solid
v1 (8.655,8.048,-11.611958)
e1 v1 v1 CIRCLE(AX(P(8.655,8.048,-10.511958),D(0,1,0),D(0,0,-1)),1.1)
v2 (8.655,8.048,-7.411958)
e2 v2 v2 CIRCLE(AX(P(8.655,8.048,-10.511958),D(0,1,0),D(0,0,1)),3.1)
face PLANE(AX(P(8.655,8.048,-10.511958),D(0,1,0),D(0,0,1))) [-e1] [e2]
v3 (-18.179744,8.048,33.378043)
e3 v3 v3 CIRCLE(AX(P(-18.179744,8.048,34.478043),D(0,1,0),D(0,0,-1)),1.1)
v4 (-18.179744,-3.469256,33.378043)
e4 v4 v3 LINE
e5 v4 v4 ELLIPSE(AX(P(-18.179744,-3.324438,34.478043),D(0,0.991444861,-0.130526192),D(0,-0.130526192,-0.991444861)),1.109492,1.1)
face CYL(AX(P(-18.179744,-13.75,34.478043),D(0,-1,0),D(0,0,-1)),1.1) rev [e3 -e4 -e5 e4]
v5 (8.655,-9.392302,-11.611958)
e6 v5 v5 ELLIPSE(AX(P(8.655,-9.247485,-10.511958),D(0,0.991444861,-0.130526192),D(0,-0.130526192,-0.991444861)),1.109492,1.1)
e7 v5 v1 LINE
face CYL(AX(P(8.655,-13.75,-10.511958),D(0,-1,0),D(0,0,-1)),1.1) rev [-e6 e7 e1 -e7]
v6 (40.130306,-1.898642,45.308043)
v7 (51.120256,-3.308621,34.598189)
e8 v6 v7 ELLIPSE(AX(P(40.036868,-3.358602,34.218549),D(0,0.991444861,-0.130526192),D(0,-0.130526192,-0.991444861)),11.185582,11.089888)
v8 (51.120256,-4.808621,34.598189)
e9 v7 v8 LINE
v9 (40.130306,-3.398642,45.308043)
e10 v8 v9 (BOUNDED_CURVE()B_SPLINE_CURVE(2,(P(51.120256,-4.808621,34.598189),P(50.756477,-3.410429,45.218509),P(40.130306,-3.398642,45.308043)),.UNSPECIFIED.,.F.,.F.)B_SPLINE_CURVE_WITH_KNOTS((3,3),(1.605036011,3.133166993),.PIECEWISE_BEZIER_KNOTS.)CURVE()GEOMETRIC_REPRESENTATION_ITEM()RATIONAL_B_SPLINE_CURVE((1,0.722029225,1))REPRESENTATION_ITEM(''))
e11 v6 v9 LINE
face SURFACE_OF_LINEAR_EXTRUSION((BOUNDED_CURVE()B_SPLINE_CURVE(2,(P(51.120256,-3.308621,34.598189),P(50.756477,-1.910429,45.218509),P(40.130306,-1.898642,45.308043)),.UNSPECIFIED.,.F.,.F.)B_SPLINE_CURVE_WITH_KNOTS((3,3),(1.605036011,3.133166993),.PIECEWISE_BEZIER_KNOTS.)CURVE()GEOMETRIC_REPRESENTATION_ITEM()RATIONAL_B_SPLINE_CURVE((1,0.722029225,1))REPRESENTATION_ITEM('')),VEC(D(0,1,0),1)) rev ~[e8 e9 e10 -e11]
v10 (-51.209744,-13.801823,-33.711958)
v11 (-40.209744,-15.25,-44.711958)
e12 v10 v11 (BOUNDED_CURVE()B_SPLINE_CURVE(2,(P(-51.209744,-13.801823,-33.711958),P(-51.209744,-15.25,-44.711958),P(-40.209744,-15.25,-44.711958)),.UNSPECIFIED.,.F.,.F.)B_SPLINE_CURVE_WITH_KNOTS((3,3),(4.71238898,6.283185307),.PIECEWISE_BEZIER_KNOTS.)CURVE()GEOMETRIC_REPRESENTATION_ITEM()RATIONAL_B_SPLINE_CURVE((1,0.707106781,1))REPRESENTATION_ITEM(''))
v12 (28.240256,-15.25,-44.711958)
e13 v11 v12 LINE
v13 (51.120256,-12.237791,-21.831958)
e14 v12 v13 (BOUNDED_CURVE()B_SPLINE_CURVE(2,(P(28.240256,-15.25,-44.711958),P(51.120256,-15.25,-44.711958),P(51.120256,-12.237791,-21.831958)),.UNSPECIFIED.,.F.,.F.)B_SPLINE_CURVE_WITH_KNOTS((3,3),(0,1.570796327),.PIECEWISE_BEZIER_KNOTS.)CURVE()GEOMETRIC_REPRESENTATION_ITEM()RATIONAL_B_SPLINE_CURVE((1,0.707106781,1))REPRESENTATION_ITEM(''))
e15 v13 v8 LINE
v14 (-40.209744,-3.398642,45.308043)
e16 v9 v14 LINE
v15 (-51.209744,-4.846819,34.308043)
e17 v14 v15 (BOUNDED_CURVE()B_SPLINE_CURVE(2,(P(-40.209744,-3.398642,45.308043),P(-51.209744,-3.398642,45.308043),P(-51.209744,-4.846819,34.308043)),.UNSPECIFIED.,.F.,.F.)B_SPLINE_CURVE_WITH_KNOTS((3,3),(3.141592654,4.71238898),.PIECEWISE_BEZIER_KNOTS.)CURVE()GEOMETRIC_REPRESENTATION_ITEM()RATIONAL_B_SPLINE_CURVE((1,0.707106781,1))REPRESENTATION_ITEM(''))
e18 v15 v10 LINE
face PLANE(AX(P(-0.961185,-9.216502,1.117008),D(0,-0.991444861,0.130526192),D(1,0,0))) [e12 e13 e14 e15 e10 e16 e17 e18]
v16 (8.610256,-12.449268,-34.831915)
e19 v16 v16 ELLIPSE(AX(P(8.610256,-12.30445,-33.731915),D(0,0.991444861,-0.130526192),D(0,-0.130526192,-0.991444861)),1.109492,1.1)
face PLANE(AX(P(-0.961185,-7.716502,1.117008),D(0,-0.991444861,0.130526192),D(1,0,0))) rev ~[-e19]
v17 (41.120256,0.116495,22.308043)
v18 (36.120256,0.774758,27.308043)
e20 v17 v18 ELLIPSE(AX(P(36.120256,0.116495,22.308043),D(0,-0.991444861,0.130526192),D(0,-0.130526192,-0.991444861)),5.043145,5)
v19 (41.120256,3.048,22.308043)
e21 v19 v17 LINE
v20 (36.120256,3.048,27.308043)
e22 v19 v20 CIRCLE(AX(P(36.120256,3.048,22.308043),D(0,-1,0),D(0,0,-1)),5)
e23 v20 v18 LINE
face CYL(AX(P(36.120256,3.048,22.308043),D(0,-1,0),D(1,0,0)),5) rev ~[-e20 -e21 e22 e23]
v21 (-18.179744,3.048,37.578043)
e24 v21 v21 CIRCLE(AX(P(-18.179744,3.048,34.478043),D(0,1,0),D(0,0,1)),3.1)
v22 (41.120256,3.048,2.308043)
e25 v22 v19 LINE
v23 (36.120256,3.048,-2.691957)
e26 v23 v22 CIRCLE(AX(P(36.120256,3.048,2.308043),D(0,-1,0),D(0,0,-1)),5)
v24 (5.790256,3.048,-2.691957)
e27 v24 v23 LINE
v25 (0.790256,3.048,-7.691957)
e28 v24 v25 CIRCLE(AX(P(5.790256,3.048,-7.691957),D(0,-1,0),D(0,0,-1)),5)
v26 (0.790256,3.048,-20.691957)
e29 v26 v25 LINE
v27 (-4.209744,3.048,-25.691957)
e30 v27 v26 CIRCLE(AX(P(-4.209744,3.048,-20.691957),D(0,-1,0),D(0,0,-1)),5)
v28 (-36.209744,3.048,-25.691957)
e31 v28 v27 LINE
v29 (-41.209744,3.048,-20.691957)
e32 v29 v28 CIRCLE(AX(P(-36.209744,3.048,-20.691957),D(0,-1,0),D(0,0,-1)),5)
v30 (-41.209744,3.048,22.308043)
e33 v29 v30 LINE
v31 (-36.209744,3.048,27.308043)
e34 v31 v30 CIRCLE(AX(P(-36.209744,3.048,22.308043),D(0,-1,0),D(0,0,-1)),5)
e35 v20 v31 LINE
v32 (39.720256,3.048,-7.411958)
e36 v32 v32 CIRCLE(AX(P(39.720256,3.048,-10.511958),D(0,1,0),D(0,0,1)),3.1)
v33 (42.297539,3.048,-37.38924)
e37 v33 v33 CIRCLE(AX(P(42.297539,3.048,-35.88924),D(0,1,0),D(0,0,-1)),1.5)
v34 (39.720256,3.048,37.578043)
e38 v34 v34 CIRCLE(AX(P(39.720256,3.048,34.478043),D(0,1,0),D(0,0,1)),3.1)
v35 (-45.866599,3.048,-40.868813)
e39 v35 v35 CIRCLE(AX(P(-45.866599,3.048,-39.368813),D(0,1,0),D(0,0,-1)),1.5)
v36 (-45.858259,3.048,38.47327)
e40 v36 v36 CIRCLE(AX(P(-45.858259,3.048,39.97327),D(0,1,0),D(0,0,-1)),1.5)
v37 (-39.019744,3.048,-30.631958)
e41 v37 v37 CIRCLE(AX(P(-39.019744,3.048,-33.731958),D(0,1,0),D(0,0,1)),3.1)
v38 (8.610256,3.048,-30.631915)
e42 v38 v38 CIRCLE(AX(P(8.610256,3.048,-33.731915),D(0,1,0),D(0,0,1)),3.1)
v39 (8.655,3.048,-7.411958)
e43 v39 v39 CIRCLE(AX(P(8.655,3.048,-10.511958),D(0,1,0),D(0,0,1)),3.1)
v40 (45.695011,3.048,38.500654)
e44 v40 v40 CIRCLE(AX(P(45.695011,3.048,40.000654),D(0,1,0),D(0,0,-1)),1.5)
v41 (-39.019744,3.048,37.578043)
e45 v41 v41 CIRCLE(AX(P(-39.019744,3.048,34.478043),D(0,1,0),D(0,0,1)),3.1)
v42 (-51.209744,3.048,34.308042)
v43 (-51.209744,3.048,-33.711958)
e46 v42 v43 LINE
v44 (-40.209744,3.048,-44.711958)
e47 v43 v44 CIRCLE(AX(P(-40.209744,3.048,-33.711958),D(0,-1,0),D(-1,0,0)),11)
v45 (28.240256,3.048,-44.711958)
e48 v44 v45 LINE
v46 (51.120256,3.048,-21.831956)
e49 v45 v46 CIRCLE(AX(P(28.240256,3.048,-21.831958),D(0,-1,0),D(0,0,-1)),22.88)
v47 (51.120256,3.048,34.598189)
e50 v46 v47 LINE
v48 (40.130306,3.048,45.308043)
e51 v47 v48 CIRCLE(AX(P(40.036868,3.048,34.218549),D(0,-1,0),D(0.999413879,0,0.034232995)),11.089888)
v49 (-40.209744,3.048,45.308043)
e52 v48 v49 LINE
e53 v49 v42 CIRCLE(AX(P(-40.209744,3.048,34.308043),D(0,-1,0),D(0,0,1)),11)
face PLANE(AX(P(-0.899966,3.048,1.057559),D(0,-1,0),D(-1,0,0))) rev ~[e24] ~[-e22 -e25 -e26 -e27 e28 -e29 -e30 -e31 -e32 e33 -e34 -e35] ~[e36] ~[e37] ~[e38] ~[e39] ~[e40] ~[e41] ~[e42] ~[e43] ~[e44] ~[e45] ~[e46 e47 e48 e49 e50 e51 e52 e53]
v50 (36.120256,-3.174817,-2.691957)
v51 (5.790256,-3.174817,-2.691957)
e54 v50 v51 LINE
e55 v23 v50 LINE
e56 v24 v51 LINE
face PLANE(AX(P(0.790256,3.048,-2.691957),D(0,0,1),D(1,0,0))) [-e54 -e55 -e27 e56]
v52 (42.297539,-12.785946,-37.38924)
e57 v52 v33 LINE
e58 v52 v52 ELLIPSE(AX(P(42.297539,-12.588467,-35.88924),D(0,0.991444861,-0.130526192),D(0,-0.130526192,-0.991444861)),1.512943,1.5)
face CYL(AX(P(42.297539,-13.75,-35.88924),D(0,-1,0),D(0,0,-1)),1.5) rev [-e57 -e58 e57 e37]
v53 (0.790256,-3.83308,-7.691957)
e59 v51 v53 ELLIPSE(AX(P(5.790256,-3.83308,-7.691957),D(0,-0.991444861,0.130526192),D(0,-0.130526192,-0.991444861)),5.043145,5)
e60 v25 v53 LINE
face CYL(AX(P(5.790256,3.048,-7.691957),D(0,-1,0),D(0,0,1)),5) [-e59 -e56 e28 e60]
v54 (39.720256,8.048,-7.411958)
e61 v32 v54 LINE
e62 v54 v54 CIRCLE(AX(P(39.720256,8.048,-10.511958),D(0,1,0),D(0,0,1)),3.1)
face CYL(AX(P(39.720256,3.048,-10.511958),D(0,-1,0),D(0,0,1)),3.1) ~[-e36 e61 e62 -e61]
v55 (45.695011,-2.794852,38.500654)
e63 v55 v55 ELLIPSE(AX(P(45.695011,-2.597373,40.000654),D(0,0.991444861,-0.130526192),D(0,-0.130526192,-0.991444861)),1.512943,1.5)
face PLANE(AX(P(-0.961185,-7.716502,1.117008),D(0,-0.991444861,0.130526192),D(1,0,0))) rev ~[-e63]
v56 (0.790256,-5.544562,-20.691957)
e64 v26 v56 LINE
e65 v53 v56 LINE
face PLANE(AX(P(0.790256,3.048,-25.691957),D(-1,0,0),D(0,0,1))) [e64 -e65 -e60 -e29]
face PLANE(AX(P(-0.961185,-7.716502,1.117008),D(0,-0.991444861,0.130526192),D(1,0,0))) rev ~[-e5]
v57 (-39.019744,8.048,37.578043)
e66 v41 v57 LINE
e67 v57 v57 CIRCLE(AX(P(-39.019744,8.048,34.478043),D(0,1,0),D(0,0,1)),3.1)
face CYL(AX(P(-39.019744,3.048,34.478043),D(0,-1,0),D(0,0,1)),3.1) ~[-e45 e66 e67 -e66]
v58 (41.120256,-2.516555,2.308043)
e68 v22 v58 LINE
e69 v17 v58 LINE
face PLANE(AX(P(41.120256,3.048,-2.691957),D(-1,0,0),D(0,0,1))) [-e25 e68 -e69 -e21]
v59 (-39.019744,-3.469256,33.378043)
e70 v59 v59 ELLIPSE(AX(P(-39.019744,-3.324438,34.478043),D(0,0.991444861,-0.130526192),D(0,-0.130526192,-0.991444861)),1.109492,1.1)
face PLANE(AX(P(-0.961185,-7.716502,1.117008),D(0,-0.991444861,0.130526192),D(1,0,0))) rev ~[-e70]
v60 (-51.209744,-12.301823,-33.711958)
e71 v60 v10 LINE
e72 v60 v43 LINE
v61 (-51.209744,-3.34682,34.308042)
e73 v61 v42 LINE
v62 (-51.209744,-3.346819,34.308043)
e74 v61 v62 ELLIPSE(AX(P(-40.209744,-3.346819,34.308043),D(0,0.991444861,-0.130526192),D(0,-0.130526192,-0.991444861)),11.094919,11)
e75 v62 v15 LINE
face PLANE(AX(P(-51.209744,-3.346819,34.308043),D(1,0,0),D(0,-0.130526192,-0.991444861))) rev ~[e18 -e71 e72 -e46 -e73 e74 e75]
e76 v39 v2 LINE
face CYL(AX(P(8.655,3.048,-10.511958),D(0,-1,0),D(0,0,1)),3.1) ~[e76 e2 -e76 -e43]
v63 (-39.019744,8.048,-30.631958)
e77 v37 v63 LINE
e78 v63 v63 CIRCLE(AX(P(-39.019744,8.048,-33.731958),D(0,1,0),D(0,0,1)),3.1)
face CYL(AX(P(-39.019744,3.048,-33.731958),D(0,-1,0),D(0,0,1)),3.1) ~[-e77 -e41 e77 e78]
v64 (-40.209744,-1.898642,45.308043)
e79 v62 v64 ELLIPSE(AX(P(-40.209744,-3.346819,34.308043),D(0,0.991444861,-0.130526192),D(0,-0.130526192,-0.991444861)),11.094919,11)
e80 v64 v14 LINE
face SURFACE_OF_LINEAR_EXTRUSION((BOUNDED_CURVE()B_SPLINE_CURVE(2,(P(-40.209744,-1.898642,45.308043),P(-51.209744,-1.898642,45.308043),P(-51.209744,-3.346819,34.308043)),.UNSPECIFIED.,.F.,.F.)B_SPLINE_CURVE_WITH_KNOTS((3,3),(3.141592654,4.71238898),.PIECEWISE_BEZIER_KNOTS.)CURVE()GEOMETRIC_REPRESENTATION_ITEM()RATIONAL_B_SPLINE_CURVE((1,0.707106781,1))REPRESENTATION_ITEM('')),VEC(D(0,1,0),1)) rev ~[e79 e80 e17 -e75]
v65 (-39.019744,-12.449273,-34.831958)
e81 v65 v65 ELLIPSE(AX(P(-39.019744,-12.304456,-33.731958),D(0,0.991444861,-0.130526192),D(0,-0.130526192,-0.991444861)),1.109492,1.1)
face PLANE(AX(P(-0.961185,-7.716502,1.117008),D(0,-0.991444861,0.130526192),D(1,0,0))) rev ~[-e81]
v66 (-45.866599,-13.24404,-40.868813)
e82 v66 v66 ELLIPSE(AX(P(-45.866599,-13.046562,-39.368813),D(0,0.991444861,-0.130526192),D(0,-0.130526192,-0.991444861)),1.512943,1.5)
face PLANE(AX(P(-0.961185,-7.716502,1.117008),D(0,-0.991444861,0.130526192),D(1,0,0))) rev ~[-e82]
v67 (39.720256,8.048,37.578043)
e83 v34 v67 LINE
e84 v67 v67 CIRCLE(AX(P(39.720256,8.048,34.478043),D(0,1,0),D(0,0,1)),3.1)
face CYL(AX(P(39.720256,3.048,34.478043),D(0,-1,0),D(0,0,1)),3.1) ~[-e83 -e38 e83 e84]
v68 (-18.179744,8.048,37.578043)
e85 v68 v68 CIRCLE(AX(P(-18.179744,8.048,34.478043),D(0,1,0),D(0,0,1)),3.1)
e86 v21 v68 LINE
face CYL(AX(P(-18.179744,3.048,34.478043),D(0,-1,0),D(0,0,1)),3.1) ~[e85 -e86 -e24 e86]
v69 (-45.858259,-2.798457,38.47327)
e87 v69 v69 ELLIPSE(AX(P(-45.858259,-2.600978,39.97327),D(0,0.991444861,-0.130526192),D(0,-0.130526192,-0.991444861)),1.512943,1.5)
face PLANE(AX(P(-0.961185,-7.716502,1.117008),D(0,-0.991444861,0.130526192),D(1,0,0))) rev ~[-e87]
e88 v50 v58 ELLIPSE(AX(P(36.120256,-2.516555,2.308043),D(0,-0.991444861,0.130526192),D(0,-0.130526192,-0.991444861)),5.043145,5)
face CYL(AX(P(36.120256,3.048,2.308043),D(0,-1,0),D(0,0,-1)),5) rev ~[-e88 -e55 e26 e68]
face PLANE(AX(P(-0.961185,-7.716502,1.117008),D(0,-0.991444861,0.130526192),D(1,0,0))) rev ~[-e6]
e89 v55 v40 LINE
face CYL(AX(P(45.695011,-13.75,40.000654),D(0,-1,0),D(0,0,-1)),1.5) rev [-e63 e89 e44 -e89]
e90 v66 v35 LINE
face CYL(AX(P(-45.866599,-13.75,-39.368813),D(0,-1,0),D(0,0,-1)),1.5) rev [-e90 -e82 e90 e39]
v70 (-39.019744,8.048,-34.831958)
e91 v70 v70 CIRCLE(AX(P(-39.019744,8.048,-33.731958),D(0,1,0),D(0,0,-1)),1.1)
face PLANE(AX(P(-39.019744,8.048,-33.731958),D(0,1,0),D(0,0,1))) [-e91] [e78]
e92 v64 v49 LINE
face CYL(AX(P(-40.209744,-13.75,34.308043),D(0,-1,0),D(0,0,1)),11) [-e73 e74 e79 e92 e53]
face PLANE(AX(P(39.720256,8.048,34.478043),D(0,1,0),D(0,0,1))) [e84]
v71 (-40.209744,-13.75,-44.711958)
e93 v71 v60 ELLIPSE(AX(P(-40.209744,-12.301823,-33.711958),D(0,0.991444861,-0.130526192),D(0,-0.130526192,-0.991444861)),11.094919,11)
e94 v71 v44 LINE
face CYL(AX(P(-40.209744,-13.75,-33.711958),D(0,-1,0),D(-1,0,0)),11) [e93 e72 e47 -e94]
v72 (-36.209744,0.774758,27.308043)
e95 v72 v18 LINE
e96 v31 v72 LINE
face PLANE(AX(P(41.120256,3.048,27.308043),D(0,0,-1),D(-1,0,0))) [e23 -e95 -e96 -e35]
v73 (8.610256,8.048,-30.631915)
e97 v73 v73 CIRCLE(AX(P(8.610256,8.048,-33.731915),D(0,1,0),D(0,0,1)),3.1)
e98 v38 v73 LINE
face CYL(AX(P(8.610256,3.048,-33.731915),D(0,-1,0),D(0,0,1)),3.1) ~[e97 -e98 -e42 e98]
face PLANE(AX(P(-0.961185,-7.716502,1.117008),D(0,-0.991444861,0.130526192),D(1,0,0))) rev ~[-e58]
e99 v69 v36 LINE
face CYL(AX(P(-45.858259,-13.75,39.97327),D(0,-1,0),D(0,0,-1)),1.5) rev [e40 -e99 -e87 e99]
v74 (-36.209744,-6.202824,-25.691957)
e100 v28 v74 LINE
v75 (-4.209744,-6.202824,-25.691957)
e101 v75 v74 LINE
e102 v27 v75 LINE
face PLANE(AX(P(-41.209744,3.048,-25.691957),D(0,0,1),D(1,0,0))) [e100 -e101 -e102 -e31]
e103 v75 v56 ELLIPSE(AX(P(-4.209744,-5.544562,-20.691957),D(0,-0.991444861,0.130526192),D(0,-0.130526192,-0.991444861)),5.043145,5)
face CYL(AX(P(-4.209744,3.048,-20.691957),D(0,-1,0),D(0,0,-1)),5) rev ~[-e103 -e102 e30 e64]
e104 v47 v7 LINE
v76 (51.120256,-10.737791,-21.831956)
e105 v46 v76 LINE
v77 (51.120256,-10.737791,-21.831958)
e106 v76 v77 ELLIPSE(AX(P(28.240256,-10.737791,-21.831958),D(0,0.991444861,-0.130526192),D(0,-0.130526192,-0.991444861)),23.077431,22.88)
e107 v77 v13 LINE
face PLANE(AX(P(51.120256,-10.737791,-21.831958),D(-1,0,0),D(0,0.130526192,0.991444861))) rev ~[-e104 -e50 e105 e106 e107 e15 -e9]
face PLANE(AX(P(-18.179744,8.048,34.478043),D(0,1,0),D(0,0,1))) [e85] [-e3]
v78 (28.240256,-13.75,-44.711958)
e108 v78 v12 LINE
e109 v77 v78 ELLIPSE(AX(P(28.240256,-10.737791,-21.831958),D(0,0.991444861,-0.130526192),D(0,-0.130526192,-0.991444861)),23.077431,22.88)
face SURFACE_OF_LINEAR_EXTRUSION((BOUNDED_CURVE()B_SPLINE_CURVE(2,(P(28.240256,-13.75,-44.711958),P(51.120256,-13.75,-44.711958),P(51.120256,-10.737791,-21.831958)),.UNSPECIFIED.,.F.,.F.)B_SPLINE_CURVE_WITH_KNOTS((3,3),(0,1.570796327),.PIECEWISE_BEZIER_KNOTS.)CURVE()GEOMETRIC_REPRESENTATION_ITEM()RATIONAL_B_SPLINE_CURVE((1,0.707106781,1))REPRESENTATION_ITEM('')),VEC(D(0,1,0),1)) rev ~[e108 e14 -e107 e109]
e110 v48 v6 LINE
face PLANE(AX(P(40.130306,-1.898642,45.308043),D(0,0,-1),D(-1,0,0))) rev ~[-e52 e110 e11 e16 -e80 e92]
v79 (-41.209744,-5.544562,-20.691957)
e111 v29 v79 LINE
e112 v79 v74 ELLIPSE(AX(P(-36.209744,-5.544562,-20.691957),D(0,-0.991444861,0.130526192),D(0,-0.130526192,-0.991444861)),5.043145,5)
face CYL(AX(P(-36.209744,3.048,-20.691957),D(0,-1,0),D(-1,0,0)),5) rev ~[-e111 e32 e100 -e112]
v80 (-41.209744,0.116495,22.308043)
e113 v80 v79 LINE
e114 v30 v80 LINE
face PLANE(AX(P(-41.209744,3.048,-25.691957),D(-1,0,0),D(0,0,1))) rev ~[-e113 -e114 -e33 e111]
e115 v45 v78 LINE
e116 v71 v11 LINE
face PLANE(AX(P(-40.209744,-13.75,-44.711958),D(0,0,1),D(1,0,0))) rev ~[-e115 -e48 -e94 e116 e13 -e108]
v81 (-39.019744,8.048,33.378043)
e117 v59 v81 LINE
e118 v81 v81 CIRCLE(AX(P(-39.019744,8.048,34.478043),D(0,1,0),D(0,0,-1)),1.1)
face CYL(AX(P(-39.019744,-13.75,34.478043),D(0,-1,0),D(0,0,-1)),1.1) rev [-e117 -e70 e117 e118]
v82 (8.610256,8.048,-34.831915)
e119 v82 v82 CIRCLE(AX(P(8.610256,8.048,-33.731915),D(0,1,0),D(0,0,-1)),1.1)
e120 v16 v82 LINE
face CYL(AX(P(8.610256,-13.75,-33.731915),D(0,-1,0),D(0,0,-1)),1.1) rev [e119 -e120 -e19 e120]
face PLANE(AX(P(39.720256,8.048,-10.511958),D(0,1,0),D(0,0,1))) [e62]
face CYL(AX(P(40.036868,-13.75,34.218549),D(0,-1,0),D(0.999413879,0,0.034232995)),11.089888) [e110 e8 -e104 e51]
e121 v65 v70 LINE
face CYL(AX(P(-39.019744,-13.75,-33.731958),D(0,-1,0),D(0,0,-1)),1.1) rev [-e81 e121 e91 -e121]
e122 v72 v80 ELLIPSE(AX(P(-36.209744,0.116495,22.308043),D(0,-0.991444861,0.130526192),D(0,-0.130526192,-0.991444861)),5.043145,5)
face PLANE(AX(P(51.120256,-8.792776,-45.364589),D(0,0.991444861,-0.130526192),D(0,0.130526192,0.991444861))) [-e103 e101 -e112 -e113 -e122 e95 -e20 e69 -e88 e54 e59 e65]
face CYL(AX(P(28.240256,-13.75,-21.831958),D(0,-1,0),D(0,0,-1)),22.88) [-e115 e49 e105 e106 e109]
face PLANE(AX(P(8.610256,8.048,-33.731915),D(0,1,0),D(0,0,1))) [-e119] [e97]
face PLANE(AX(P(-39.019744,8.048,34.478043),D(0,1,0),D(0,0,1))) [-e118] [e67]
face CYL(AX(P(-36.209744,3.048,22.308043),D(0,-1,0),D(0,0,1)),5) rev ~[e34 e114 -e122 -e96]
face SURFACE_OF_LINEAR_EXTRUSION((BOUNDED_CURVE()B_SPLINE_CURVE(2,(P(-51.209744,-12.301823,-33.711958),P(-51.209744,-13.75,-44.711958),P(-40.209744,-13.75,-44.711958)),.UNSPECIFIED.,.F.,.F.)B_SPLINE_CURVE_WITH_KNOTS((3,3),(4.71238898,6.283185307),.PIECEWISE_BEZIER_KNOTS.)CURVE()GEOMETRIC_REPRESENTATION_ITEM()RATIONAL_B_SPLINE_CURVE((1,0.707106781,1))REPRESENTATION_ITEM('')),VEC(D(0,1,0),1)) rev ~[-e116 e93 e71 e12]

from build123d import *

# Parameters (mm, degrees)
SKETCH1_R                        = 1.1
SKETCH1_R_2                      = 1.5
BOSS_EXTRUDE1_DEPTH              = 3.048
SKETCH2_R                        = 3.1
SKETCH2_R_2                      = 1.1
BOSS_EXTRUDE2_DEPTH              = 5
BOSS_EXTRUDE4_START              = -13.75
SKETCH1_5_R                      = 1.1
SKETCH1_5_R_2                    = 1.5
BOSS_EXTRUDE4_DEPTH              = 13.75
CUT_EXTRUDE1_DEPTH               = 113.753315675
CUT_EXTRUDE2_REACH               = 77.409
CUT_EXTRUDE2_OFFSET_FROM_SURFACE = 5
FILLET1_R                        = 5
BOSS_EXTRUDE6_DEPTH              = 1.5


with BuildPart() as part:
    # Sketch1 → Boss-Extrude1 (new body)
    with BuildSketch(Plane(origin=(0, 0, 0), x_dir=(1, 0, 0), z_dir=(0, 1, 0))):
        with BuildLine():
            Line((-40.209744398, 44.711958299), (28.240255602, 44.711958299))
            ThreePointArc((28.240255602, 44.711958299), (44.41885963, 38.010560578), (51.120255602, 21.831955824))
            Line((51.120255602, 21.831955824), (51.120255602, -34.598189146))
            ThreePointArc((51.120255602, -34.598189146), (47.776738906, -42.160841434), (40.130306185, -45.308043388))
            Line((40.130306185, -45.308043388), (-40.209744398, -45.308043388))
            ThreePointArc((-40.209744398, -45.308043388), (-47.987919588, -42.086217385), (-51.209744398, -34.308041701))
            Line((-51.209744398, -34.308041701), (-51.209744398, 33.711958299))
            ThreePointArc((-51.209744398, 33.711958299), (-47.987918991, 41.490132892), (-40.209744398, 44.711958299))
        make_face()
        with Locations((-39.019744398, -34.478043388)):
            Circle(SKETCH1_R, mode=Mode.SUBTRACT)
        with Locations((-18.179744398, -34.478043388)):
            Circle(SKETCH1_R, mode=Mode.SUBTRACT)
        with Locations((-39.019744398, 33.731958299)):
            Circle(SKETCH1_R, mode=Mode.SUBTRACT)
        with Locations((8.610255602, 33.731915189)):
            Circle(SKETCH1_R, mode=Mode.SUBTRACT)
        with Locations((8.655, 10.511958299)):
            Circle(SKETCH1_R, mode=Mode.SUBTRACT)
        with Locations((-45.866598648, 39.368812549)):
            Circle(SKETCH1_R_2, mode=Mode.SUBTRACT)
        with Locations((42.297539172, 35.889240349)):
            Circle(SKETCH1_R_2, mode=Mode.SUBTRACT)
        with Locations((45.695011225, -40.000653974)):
            Circle(SKETCH1_R_2, mode=Mode.SUBTRACT)
        with Locations((-45.858259021, -39.973270185)):
            Circle(SKETCH1_R_2, mode=Mode.SUBTRACT)
    extrude(amount=BOSS_EXTRUDE1_DEPTH)

    # Sketch2 → Boss-Extrude2 (add)
    # profile 1 of 7: a face of its own
    with BuildSketch(Plane(origin=(0, 3.048, 0), x_dir=(1, 0, 0), z_dir=(0, 1, 0))):
        with Locations((-39.019744398, 33.731958299)):
            Circle(SKETCH2_R)
        with Locations((-39.019744398, 33.731958299)):
            Circle(SKETCH2_R_2, mode=Mode.SUBTRACT)
    # profile 2 of 7: a face of its own
    with BuildSketch(Plane(origin=(0, 3.048, 0), x_dir=(1, 0, 0), z_dir=(0, 1, 0))):
        with Locations((8.610255602, 33.731915189)):
            Circle(SKETCH2_R)
        with Locations((8.610255602, 33.731915189)):
            Circle(SKETCH2_R_2, mode=Mode.SUBTRACT)
    # profile 3 of 7: a face of its own
    with BuildSketch(Plane(origin=(0, 3.048, 0), x_dir=(1, 0, 0), z_dir=(0, 1, 0))):
        with Locations((8.655, 10.511958299)):
            Circle(SKETCH2_R)
        with Locations((8.655, 10.511958299)):
            Circle(SKETCH2_R_2, mode=Mode.SUBTRACT)
    # profile 4 of 7: a face of its own
    with BuildSketch(Plane(origin=(0, 3.048, 0), x_dir=(1, 0, 0), z_dir=(0, 1, 0))):
        with Locations((-18.179744398, -34.478043388)):
            Circle(SKETCH2_R)
        with Locations((-18.179744398, -34.478043388)):
            Circle(SKETCH2_R_2, mode=Mode.SUBTRACT)
    # profile 5 of 7: a face of its own
    with BuildSketch(Plane(origin=(0, 3.048, 0), x_dir=(1, 0, 0), z_dir=(0, 1, 0))):
        with Locations((-39.019744398, -34.478043388)):
            Circle(SKETCH2_R)
        with Locations((-39.019744398, -34.478043388)):
            Circle(SKETCH2_R_2, mode=Mode.SUBTRACT)
    # profile 6 of 7: a face of its own
    with BuildSketch(Plane(origin=(0, 3.048, 0), x_dir=(1, 0, 0), z_dir=(0, 1, 0))):
        with Locations((39.720255602, -34.478043388)):
            Circle(SKETCH2_R)
    # profile 7 of 7: a face of its own
    with BuildSketch(Plane(origin=(0, 3.048, 0), x_dir=(1, 0, 0), z_dir=(0, 1, 0))):
        with Locations((39.720255602, 10.511958299)):
            Circle(SKETCH2_R)
    extrude(amount=BOSS_EXTRUDE2_DEPTH)

    # Sketch1<5> → Boss-Extrude4 (add)
    with BuildSketch(Plane(origin=(0, 0, 0), x_dir=(1, 0, 0), z_dir=(0, 1, 0)).offset(BOSS_EXTRUDE4_START)):
        with BuildLine():
            Line((-40.209744398, 44.711958299), (28.240255602, 44.711958299))
            ThreePointArc((28.240255602, 44.711958299), (44.41885963, 38.010560578), (51.120255602, 21.831955824))
            Line((51.120255602, 21.831955824), (51.120255602, -34.598189146))
            ThreePointArc((51.120255602, -34.598189146), (47.776738906, -42.160841434), (40.130306185, -45.308043388))
            Line((40.130306185, -45.308043388), (-40.209744398, -45.308043388))
            ThreePointArc((-40.209744398, -45.308043388), (-47.987919588, -42.086217385), (-51.209744398, -34.308041701))
            Line((-51.209744398, -34.308041701), (-51.209744398, 33.711958299))
            ThreePointArc((-51.209744398, 33.711958299), (-47.987918991, 41.490132892), (-40.209744398, 44.711958299))
        make_face()
        with Locations((-39.019744398, -34.478043388)):
            Circle(SKETCH1_5_R, mode=Mode.SUBTRACT)
        with Locations((-18.179744398, -34.478043388)):
            Circle(SKETCH1_5_R, mode=Mode.SUBTRACT)
        with Locations((-39.019744398, 33.731958299)):
            Circle(SKETCH1_5_R, mode=Mode.SUBTRACT)
        with Locations((8.610255602, 33.731915189)):
            Circle(SKETCH1_5_R, mode=Mode.SUBTRACT)
        with Locations((8.655, 10.511958299)):
            Circle(SKETCH1_5_R, mode=Mode.SUBTRACT)
        with Locations((-45.866598648, 39.368812549)):
            Circle(SKETCH1_5_R_2, mode=Mode.SUBTRACT)
        with Locations((42.297539172, 35.889240349)):
            Circle(SKETCH1_5_R_2, mode=Mode.SUBTRACT)
        with Locations((45.695011225, -40.000653974)):
            Circle(SKETCH1_5_R_2, mode=Mode.SUBTRACT)
        with Locations((-45.858259021, -39.973270185)):
            Circle(SKETCH1_5_R_2, mode=Mode.SUBTRACT)
    extrude(amount=BOSS_EXTRUDE4_DEPTH)

    # Sketch3 → Cut-Extrude1 (cut, through all)
    with BuildSketch(Plane.ZY.offset(51.209744398)):
        Polygon((-44.711958299, -13.75), (-33.711958299, -13.75), (34.308041701, -13.75), (45.308043388, -13.75), (45.308043388, -1.898641945), align=None)
    extrude(amount=-CUT_EXTRUDE1_DEPTH, mode=Mode.SUBTRACT)

    # Cut-Extrude2: up to this face of the body (flat: up to its plane, moved by the offset)
    cut_extrude2_end = Plane(part.part.faces().sort_by_distance((-0.446052123, -7.774765631, 0.674452735))[0]).offset(-CUT_EXTRUDE2_OFFSET_FROM_SURFACE)
    # Sketch4 → Cut-Extrude2 (cut, up to the picked face)
    with BuildSketch(Plane(origin=(0, 3.048, 0), x_dir=(1, 0, 0), z_dir=(0, 1, 0)), mode=Mode.PRIVATE) as cut_extrude2_sk1:
        Polygon((0.790255602, 2.691956612), (41.120255602, 2.691956612), (41.120255602, -27.308043388), (-41.209744398, -27.308043388), (-41.209744398, 2.691956612), (-41.209744398, 25.691956612), (0.790255602, 25.691956612), align=None)
    cut_extrude2_tool1 = split(extrude(cut_extrude2_sk1.sketch, amount=-CUT_EXTRUDE2_REACH, mode=Mode.PRIVATE), bisect_by=cut_extrude2_end, keep=Keep.BOTH, mode=Mode.PRIVATE)
    add(cut_extrude2_tool1.solids().sort_by(Axis((-5.714115, 3.048, 4.857594), (0, -1, 0)))[0], mode=Mode.SUBTRACT)

    # Fillet1
    fillet1_edges = [part.edges().sort_by_distance(p)[0] for p in [
        (41.120255602, 1.911378951, 27.308043388),
        (-41.209744398, 1.911378951, 27.308043388),
        (-41.209744398, -1.577412235, -25.691956612),
        (0.790255602, -1.577412235, -25.691956612),
        (41.120255602, -0.063408513, -2.691956612),
        (0.790255602, -0.063408513, -2.691956612),
    ]]
    fillet(fillet1_edges, radius=FILLET1_R)

    # Sketch5 → Boss-Extrude6 (add, along a direction that is not the sketch's normal)
    with BuildSketch(Plane(origin=(0, -7.72958688, 1.017619418), x_dir=(1, 0, 0), z_dir=(0, -0.9914448613738103, 0.13052619222005257))):
        with BuildLine():
            Line((-51.209744398, 33.577685726), (-51.209744398, -35.029257874))
            add(Edge.make_bspline(
                [(-51.209744398, -35.029257874), (-51.209744398, -46.124176441), (-40.209744398, -46.124176441)],
                knots=[4.71238898, 4.71238898, 4.71238898, 6.283185307, 6.283185307, 6.283185307], degree=2, weights=[1, 0.707106781, 1]))
            Line((-40.209744398, -46.124176441), (28.240255602, -46.124176441))
            add(Edge.make_bspline(
                [(28.240255602, -46.124176441), (51.120255602, -46.124176441), (51.120255602, -23.046745823)],
                knots=[0, 0, 0, 1.570796327, 1.570796327, 1.570796327], degree=2, weights=[1, 0.707106781, 1]))
            Line((51.120255602, -23.046745823), (51.120255602, 33.87033514))
            add(Edge.make_bspline(
                [(51.120255602, 33.87033514), (50.756477038, 44.58229707), (40.130306185, 44.672604293)],
                knots=[1.605036011, 1.605036011, 1.605036011, 3.133166993, 3.133166993, 3.133166993], degree=2, weights=[1, 0.722029225, 1]))
            Line((40.130306185, 44.672604293), (-40.209744398, 44.672604293))
            add(Edge.make_bspline(
                [(-40.209744398, 44.672604293), (-51.209744398, 44.672604293), (-51.209744398, 33.577685726)],
                knots=[3.141592654, 3.141592654, 3.141592654, 4.71238898, 4.71238898, 4.71238898], degree=2, weights=[1, 0.707106781, 1]))
        make_face()
    extrude(amount=BOSS_EXTRUDE6_DEPTH, dir=(0, -1, 0))


solid = part.part
